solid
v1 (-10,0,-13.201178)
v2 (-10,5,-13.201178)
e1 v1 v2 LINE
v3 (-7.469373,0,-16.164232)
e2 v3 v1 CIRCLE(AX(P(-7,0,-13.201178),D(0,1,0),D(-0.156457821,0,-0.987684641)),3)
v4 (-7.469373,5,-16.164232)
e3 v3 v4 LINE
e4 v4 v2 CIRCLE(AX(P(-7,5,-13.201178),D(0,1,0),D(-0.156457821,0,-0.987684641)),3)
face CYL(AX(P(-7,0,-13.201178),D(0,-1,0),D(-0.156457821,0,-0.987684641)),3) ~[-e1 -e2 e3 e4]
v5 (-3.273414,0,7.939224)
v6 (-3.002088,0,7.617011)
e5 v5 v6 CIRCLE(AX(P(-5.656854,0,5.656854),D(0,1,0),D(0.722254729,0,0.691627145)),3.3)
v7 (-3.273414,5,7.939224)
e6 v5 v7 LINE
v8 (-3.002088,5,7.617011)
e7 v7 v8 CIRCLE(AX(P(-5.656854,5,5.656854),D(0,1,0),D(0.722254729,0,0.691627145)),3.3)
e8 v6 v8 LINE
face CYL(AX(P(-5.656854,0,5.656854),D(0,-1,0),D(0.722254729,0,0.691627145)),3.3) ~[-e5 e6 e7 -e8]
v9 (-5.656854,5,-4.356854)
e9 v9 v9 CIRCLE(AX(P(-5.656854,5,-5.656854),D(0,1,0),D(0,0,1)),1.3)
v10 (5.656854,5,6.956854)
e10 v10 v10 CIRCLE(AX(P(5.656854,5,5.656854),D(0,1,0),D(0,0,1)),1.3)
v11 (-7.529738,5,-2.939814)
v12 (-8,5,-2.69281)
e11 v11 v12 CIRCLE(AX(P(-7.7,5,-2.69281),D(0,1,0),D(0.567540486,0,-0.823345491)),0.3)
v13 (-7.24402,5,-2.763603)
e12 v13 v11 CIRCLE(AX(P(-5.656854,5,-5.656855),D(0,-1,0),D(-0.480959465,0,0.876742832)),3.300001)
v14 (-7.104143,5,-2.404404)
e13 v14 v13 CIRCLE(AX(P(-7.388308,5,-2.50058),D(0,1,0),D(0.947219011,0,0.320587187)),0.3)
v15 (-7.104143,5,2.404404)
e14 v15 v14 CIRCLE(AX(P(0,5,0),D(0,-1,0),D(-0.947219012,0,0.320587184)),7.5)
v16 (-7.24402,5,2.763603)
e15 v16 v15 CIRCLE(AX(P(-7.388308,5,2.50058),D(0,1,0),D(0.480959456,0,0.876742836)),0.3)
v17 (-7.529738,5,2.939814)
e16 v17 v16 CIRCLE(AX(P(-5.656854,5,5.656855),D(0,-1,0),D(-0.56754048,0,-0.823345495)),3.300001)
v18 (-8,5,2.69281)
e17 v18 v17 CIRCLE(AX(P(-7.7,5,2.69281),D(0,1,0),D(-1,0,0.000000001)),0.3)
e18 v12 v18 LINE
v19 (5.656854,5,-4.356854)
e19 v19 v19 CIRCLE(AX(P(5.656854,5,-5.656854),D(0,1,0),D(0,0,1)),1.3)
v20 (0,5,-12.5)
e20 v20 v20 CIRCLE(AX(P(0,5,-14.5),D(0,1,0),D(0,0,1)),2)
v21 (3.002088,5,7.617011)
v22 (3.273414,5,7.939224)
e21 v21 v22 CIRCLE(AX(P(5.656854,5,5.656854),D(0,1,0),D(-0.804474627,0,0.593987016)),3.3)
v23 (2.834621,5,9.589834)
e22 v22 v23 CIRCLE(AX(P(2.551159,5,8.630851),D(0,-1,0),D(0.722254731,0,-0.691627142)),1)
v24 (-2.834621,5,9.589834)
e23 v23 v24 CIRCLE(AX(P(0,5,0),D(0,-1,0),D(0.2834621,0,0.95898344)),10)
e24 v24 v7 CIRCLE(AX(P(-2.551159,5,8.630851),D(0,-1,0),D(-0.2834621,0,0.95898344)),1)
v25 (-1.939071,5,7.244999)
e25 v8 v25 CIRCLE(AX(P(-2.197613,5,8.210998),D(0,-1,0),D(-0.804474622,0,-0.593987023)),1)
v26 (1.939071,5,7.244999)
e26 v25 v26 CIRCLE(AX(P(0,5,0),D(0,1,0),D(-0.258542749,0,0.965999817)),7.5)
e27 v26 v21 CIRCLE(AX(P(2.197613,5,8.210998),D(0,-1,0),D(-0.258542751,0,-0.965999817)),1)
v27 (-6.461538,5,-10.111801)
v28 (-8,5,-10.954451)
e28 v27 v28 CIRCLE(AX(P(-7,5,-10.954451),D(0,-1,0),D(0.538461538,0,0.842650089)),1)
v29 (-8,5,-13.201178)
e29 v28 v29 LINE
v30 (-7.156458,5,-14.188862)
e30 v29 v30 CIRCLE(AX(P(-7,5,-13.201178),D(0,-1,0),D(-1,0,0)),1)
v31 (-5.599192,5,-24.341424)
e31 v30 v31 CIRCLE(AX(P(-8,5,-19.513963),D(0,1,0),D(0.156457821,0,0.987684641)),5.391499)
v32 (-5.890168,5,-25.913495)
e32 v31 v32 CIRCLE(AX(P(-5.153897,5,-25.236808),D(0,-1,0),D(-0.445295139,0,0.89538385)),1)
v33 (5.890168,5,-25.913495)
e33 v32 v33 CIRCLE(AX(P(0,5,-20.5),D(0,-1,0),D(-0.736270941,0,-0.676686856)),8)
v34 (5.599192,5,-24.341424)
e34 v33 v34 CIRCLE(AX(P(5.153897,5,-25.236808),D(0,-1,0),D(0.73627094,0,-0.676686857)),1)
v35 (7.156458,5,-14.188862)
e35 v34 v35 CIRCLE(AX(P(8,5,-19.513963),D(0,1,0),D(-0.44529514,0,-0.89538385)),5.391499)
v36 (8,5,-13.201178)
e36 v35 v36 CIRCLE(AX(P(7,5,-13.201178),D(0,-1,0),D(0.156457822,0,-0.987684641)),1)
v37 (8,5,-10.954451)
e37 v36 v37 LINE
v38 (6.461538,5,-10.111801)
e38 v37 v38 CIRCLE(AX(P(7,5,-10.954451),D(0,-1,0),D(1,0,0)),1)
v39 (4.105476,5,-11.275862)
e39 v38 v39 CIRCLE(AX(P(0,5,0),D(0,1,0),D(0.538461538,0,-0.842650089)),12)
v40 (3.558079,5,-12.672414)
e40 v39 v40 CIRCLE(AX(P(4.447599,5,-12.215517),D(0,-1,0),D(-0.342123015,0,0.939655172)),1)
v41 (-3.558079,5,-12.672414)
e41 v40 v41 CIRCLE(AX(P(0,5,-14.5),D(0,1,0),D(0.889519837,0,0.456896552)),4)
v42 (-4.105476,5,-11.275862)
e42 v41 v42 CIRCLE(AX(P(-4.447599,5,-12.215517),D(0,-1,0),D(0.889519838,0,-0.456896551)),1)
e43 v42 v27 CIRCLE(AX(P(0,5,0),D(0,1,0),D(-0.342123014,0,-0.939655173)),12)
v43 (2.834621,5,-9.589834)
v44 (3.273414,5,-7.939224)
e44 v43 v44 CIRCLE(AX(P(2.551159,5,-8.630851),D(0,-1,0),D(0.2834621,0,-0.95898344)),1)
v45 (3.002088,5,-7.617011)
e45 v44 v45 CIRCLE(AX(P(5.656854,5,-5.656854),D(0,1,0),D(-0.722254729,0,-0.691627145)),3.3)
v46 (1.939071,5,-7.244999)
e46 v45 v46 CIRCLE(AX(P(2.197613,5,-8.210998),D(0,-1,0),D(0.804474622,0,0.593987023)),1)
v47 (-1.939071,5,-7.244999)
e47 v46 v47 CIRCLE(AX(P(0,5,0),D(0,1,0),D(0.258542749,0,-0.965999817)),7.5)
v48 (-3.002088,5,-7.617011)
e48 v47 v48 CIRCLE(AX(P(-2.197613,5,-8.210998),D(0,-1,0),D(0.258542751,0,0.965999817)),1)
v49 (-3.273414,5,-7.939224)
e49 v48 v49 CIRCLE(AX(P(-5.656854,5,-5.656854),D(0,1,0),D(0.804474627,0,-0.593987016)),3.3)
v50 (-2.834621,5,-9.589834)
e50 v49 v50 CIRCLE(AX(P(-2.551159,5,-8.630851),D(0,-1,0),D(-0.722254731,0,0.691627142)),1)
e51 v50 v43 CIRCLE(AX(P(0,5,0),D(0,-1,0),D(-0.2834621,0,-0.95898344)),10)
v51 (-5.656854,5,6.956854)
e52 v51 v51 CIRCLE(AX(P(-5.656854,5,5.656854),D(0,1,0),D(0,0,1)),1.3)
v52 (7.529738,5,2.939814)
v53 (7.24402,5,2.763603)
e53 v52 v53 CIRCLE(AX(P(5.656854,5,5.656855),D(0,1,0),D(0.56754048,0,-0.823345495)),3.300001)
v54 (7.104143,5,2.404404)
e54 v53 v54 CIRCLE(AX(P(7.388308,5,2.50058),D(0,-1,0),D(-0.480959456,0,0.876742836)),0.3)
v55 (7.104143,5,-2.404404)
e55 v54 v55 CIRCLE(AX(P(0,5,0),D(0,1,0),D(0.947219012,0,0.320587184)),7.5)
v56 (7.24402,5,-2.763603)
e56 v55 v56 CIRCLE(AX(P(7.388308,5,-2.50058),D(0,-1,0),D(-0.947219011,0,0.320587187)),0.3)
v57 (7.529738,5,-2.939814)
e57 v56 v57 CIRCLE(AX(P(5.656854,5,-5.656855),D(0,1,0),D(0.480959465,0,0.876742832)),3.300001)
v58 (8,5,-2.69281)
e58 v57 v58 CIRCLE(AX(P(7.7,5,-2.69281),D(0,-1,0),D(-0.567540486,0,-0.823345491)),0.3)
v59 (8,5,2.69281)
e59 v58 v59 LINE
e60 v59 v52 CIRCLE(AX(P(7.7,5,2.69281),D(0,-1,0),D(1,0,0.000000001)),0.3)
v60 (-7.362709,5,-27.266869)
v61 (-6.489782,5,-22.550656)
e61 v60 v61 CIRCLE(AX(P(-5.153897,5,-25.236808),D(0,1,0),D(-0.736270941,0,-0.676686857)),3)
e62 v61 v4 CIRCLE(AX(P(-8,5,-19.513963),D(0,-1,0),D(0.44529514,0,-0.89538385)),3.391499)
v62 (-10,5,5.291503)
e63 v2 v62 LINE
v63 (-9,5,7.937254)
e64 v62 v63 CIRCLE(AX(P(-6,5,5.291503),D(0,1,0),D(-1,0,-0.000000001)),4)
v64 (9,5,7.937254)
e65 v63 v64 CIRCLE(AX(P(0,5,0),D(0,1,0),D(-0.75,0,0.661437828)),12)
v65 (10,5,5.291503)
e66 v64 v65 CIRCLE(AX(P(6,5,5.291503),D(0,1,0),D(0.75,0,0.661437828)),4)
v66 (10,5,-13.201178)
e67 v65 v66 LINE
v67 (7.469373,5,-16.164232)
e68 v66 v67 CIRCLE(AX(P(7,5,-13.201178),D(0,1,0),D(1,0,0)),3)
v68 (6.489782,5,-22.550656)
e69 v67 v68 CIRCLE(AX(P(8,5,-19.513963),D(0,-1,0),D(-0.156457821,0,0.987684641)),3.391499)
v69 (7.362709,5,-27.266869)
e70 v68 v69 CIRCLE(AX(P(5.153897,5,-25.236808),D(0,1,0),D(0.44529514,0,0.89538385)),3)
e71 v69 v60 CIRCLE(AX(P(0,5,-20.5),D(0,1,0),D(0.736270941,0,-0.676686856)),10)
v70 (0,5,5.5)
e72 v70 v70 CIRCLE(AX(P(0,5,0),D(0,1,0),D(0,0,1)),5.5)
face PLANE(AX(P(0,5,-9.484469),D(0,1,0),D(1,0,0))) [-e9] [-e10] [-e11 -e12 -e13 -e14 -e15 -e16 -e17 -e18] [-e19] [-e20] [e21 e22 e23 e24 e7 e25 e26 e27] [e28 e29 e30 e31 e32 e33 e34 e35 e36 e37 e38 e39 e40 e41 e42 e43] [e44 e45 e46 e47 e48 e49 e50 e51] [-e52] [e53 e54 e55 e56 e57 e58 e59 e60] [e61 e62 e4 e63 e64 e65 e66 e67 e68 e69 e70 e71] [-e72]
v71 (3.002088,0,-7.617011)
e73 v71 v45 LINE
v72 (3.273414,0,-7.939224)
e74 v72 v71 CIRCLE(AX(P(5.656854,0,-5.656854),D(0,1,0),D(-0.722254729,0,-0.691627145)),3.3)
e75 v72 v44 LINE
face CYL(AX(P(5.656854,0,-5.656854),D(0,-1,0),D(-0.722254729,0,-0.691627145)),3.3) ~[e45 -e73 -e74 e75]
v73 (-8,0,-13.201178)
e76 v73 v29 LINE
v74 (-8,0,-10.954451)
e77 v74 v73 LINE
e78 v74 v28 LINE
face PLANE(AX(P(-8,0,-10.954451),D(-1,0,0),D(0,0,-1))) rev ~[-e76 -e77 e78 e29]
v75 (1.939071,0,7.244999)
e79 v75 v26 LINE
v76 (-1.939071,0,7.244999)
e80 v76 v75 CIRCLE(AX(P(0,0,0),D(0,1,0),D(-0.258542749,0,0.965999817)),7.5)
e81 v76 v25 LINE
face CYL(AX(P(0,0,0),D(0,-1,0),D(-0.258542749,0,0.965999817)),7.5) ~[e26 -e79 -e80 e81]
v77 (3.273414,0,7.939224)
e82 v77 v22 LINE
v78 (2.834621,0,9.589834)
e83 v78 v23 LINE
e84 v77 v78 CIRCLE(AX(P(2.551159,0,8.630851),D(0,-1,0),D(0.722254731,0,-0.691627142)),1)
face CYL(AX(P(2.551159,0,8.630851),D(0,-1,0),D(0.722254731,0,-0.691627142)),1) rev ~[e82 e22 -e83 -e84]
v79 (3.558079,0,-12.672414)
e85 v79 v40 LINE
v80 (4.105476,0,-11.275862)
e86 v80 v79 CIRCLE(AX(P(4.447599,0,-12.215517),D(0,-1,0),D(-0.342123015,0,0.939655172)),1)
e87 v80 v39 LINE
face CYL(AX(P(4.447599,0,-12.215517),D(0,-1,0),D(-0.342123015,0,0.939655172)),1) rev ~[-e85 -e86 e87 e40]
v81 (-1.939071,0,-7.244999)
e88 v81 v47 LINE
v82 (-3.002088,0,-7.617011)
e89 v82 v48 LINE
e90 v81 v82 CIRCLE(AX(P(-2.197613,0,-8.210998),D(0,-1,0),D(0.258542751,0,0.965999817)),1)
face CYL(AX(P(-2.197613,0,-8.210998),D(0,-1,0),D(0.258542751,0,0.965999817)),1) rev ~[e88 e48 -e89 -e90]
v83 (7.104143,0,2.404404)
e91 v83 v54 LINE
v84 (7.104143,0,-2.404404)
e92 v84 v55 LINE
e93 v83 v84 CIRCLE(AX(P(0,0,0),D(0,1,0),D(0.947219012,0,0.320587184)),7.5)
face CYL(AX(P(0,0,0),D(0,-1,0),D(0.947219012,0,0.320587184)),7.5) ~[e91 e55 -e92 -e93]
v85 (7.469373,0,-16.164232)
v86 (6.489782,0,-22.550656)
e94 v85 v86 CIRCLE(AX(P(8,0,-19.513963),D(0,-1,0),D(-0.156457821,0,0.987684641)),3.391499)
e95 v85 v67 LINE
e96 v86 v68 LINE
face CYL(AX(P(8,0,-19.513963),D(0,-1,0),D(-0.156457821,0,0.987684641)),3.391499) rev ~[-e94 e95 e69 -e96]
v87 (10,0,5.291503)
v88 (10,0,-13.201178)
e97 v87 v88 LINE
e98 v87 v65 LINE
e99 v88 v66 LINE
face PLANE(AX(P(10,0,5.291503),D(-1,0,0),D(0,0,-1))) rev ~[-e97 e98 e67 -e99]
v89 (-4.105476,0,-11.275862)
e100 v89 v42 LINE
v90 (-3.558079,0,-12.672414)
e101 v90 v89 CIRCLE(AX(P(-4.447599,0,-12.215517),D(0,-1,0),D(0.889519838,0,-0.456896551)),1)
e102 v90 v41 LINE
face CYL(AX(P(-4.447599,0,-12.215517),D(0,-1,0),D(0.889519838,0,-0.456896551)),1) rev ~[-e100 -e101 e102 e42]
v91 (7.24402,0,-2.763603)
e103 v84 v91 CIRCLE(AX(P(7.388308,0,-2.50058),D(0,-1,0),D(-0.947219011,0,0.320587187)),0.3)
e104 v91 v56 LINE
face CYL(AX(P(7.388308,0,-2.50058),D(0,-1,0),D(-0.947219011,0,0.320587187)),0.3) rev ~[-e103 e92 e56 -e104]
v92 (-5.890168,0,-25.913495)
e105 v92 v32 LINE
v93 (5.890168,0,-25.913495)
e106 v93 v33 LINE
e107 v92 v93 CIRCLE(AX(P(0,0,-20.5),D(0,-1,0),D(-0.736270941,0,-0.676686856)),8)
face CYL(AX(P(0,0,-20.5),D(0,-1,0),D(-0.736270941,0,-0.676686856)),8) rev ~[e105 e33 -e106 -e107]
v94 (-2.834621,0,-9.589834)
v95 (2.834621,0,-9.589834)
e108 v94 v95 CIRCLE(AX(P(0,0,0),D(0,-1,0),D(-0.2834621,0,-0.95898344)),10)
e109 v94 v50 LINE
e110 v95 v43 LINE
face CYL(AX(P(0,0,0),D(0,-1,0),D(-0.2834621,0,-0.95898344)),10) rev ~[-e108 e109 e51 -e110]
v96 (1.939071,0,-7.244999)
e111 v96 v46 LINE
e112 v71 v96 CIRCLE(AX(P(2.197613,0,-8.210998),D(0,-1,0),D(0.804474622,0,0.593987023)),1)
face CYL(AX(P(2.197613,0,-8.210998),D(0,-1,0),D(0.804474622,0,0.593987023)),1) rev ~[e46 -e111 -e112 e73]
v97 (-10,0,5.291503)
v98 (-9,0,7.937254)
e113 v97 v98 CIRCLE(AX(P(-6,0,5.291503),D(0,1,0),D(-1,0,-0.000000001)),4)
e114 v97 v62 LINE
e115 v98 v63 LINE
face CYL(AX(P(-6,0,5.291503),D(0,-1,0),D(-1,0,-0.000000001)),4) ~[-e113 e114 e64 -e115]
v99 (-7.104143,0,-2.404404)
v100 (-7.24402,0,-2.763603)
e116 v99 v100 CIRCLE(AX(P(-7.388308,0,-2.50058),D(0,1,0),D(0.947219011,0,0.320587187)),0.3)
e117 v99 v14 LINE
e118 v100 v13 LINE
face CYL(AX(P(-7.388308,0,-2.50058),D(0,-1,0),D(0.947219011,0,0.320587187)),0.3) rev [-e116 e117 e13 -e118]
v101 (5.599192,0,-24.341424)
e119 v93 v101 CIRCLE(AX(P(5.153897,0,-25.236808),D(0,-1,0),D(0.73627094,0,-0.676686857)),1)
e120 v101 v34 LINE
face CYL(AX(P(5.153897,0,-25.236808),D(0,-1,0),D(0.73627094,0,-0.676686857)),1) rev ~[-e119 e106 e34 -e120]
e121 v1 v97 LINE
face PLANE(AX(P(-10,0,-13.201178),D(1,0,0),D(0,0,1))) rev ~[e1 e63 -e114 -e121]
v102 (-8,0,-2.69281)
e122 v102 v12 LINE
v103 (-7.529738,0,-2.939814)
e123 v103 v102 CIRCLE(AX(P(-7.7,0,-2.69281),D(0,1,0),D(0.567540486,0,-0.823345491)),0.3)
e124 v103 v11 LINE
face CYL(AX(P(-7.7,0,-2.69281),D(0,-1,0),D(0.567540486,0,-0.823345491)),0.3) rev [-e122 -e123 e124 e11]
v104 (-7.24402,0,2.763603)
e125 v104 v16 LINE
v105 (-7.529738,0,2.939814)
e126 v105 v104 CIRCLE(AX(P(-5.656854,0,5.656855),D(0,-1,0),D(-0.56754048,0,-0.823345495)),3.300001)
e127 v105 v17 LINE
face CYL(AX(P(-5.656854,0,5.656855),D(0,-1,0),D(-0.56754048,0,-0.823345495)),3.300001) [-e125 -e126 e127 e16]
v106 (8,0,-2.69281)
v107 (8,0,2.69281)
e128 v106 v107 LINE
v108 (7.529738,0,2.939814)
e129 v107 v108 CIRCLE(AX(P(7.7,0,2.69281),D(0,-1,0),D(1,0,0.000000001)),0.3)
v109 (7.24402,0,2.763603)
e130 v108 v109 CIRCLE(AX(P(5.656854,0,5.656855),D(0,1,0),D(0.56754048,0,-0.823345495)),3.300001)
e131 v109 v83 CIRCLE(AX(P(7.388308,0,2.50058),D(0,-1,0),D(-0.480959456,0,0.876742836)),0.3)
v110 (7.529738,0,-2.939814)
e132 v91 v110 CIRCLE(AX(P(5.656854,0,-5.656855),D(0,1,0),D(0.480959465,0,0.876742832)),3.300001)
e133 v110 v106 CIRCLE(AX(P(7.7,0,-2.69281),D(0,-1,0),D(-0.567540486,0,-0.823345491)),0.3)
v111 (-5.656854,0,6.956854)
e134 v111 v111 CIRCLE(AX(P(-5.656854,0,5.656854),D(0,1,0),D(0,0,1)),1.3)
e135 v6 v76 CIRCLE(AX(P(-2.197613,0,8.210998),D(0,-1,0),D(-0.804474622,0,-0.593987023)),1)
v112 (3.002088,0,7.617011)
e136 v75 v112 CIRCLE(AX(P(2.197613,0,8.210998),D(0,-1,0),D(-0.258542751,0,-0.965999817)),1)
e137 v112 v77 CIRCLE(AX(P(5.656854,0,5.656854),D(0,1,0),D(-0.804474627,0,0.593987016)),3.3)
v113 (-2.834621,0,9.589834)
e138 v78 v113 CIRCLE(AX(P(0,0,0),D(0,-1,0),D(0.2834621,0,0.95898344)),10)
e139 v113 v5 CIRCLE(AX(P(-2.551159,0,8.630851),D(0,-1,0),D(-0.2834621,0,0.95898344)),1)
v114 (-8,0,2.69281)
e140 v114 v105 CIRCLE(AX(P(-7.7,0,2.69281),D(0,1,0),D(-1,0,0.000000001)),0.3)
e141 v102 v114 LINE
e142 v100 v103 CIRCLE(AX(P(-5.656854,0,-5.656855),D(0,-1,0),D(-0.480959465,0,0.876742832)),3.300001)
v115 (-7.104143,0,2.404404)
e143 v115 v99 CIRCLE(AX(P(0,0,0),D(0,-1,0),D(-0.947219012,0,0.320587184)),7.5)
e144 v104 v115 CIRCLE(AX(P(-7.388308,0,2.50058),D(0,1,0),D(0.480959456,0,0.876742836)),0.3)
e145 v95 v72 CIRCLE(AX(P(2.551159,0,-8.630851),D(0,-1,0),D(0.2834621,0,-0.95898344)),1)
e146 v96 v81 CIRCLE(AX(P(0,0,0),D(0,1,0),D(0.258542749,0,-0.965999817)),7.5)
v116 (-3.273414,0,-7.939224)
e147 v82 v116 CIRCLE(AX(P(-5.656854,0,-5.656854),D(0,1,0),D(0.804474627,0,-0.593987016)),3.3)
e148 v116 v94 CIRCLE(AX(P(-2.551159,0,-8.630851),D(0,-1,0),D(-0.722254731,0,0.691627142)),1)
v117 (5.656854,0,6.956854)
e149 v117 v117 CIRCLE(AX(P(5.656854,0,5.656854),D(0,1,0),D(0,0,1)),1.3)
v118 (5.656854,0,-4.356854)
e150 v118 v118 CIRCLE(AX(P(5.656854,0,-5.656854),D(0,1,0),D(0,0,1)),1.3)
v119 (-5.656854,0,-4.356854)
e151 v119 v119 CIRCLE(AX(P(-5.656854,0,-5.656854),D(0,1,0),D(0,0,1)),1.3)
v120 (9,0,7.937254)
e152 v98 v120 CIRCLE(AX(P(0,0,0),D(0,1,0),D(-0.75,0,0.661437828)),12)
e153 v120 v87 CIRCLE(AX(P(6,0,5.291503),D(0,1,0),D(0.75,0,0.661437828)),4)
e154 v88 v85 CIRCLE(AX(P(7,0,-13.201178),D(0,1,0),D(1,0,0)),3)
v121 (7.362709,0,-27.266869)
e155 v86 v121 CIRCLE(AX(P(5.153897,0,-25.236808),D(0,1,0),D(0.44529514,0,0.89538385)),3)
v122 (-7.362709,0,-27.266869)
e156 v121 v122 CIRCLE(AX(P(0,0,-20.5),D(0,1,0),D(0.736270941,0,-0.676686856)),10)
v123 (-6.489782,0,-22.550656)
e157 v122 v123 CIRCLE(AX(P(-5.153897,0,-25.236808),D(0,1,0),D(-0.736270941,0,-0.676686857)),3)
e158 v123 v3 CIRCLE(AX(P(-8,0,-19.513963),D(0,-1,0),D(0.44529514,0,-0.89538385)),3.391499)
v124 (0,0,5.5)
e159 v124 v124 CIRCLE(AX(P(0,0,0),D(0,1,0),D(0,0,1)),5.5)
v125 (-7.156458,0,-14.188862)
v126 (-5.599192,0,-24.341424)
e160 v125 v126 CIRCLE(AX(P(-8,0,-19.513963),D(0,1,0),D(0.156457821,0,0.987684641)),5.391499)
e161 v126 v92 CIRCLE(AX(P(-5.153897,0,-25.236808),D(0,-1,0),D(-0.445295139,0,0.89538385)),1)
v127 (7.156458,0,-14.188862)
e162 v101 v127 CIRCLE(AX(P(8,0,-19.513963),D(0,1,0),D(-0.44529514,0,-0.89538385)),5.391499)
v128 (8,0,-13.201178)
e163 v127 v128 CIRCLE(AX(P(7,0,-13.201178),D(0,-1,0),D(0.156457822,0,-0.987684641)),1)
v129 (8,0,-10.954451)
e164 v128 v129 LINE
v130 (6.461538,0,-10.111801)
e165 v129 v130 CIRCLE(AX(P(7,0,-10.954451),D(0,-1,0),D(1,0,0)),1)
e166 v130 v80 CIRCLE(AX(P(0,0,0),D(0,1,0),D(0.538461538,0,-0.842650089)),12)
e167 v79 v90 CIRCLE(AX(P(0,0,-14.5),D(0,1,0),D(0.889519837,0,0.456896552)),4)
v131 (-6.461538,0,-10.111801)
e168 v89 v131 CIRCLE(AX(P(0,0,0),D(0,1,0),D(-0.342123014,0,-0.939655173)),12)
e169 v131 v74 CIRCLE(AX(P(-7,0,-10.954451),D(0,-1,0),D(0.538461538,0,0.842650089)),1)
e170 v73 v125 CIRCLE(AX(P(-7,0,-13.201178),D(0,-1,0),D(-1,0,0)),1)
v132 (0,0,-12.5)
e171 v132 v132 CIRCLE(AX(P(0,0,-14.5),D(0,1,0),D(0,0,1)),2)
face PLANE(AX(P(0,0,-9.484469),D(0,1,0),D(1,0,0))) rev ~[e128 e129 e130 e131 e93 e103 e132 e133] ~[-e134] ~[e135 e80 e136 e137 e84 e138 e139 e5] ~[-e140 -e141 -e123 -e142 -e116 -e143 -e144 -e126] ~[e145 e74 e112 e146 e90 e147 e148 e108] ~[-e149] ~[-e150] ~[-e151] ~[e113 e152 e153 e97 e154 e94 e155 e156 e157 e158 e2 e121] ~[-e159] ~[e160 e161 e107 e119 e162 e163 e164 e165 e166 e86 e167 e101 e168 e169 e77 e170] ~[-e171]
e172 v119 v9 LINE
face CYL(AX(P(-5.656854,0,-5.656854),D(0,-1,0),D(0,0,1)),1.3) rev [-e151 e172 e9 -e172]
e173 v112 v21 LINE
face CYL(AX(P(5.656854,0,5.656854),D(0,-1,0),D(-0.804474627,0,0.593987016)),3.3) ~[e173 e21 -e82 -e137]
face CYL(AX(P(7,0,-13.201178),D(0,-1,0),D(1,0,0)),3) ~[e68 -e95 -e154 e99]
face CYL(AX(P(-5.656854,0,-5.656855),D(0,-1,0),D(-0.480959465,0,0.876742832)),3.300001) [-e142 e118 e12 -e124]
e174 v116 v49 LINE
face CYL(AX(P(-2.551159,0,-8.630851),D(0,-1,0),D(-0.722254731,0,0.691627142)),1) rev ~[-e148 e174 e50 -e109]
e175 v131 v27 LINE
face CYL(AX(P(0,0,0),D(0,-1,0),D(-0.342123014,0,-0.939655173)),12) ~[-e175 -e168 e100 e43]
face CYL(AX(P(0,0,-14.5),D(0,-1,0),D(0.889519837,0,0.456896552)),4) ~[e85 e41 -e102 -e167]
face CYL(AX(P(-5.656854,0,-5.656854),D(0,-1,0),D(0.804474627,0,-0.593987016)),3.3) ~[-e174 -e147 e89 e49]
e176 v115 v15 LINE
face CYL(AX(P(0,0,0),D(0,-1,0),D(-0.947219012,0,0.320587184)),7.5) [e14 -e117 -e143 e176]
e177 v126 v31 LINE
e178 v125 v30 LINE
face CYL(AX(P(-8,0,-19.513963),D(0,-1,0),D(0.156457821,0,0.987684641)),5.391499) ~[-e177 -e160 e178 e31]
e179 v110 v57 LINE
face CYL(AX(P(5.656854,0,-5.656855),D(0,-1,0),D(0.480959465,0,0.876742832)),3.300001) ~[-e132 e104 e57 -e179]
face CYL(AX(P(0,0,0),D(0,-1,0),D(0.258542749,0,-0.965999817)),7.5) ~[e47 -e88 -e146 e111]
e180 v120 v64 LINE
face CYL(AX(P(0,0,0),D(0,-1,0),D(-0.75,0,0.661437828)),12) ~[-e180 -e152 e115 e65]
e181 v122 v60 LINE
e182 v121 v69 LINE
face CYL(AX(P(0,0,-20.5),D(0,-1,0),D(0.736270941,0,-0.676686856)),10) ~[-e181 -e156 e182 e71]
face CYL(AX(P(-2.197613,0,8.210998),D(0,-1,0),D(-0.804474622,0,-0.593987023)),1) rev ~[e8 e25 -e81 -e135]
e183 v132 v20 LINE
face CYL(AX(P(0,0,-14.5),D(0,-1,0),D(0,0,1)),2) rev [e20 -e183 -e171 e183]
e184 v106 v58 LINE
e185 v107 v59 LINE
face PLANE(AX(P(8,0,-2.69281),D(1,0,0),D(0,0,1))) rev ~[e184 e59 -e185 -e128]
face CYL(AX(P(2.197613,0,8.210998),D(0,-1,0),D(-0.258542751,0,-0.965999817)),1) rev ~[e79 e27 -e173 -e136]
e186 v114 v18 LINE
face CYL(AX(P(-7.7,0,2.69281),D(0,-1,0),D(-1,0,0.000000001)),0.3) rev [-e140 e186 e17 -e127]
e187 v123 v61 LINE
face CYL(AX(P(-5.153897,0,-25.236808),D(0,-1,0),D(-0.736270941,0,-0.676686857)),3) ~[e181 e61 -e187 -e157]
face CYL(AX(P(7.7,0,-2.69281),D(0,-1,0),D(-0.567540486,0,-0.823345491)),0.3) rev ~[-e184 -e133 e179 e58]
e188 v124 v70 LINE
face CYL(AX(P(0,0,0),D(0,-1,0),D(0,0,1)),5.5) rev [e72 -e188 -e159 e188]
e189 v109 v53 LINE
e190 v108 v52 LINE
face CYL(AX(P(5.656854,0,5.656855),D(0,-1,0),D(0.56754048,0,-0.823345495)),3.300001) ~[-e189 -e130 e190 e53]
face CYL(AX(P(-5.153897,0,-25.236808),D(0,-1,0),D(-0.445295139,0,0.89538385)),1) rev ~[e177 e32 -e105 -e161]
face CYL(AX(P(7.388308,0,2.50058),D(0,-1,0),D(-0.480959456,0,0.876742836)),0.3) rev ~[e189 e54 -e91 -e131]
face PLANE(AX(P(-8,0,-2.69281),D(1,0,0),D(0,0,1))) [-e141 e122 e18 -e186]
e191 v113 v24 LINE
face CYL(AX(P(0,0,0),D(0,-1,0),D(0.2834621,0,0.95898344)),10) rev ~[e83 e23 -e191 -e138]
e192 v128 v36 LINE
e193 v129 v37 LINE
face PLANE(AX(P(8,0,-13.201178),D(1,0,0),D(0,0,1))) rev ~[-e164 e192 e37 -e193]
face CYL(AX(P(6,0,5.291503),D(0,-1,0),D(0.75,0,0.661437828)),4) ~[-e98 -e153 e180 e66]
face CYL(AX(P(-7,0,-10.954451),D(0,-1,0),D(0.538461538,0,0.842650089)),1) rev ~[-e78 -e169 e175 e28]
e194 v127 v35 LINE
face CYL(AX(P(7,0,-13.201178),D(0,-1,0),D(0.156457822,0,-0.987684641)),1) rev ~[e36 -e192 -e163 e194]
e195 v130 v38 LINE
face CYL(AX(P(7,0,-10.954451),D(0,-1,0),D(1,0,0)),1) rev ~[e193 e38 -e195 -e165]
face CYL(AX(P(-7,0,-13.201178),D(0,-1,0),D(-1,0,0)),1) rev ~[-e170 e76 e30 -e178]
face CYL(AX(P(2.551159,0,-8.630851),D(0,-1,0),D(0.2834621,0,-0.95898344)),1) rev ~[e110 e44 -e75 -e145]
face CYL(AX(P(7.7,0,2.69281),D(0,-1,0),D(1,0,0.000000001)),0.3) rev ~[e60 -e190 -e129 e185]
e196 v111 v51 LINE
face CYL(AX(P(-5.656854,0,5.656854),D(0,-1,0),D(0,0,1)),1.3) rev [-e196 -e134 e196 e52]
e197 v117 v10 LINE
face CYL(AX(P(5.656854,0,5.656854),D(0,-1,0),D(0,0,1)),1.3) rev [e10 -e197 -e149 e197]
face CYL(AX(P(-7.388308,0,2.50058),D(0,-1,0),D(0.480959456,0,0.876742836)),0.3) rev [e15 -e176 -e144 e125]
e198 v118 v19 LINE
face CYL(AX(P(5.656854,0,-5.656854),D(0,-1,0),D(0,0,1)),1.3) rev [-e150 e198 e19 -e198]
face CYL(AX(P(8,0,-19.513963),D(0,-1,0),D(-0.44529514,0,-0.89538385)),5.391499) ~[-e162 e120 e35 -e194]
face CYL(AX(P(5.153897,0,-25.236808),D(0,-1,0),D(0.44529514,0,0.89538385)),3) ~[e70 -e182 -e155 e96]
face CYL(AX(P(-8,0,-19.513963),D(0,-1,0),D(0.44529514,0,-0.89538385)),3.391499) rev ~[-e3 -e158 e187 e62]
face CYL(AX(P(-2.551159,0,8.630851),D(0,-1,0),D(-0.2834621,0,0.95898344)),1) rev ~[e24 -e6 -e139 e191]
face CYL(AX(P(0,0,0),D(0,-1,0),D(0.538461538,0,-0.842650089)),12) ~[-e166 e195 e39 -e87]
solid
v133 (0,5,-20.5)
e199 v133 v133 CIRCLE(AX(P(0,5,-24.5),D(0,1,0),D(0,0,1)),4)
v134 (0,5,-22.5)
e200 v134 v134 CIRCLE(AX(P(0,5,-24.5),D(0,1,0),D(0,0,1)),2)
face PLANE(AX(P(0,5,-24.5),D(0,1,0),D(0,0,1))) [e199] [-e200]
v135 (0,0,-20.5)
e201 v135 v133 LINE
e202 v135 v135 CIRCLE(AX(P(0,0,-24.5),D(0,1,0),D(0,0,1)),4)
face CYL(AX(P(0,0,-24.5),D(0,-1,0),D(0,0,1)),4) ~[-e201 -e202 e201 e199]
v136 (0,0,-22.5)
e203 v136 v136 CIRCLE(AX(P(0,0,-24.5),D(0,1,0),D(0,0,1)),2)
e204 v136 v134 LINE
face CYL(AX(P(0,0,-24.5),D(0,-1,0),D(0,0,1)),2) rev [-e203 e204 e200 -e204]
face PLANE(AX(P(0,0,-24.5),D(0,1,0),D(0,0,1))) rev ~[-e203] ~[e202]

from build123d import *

# Parameters (mm, degrees)
SKETCH1_R             = 4
SKETCH1_R_2           = 2
BOSS_EXTRUDE1_DEPTH   = 5
SKETCH1_R_3           = 5.5
SKETCH1_R_4           = 1.3
BOSS_EXTRUDE1_2_DEPTH = 5


with BuildPart() as part:
    # Sketch1 → Boss-Extrude1 (new body)
    with BuildSketch(Plane(origin=(0, 0, 0), x_dir=(1, 0, 0), z_dir=(0, 1, 0))):
        with Locations(Location((0, 24.5, 0), (0, 0, 270))):
            Circle(SKETCH1_R)
        with Locations(Location((0, 24.5, 0), (0, 0, 270))):
            Circle(SKETCH1_R_2, mode=Mode.SUBTRACT)
    extrude(amount=BOSS_EXTRUDE1_DEPTH)


with BuildPart() as body_2:
    # Sketch1 → Boss-Extrude1 2 (new body)
    with BuildSketch(Plane(origin=(0, 0, 0), x_dir=(1, 0, 0), z_dir=(0, 1, 0))):
        with BuildLine():
            Line((-10, 13.201177736), (-10, -5.291502622))
            ThreePointArc((-10, -5.291502622), (-9.741657387, -6.705716185), (-9, -7.937253933))
            ThreePointArc((-9, -7.937253933), (0, -12), (9, -7.937253933))
            ThreePointArc((9, -7.937253933), (9.741657387, -6.705716185), (10, -5.291502622))
            Line((10, -5.291502622), (10, 13.201177736))
            ThreePointArc((10, 13.201177736), (9.281240934, 15.149494908), (7.469373465, 16.164231659))
            ThreePointArc((7.469373465, 16.164231659), (4.647707204, 18.999766552), (6.489782006, 22.550656446))
            ThreePointArc((6.489782006, 22.550656446), (8.103792448, 24.690809454), (7.362709409, 27.266868564))
            ThreePointArc((7.362709409, 27.266868564), (0, 30.5), (-7.362709409, 27.266868564))
            ThreePointArc((-7.362709409, 27.266868564), (-8.103792448, 24.690809454), (-6.489782006, 22.550656446))
            ThreePointArc((-6.489782006, 22.550656446), (-4.647707204, 18.999766552), (-7.469373465, 16.164231659))
            ThreePointArc((-7.469373465, 16.164231659), (-9.281240934, 15.149494908), (-10, 13.201177736))
        make_face()
        with Locations(Location((0, 0, 0), (0, 0, 270))):
            Circle(SKETCH1_R_3, mode=Mode.SUBTRACT)
        with Locations(Location((0, 14.5, 0), (0, 0, 270))):
            Circle(SKETCH1_R_2, mode=Mode.SUBTRACT)
        with Locations(Location((5.656854249, -5.656854249, 0), (0, 0, 270))):
            Circle(SKETCH1_R_4, mode=Mode.SUBTRACT)
        with Locations(Location((-5.656854249, -5.656854249, 0), (0, 0, 270))):
            Circle(SKETCH1_R_4, mode=Mode.SUBTRACT)
        with Locations(Location((-5.656854249, 5.656854249, 0), (0, 0, 270))):
            Circle(SKETCH1_R_4, mode=Mode.SUBTRACT)
        with Locations(Location((5.656854249, 5.656854249, 0), (0, 0, 270))):
            Circle(SKETCH1_R_4, mode=Mode.SUBTRACT)
        with BuildLine():
            Line((8, 13.201177736), (8, 10.95445115))
            ThreePointArc((8, 10.95445115), (7.480384461, 10.077393131), (6.461538462, 10.111801062))
            ThreePointArc((6.461538462, 10.111801062), (5.315468848, 10.758521782), (4.105476172, 11.275862069))
            ThreePointArc((4.105476172, 11.275862069), (3.516564704, 11.850586026), (3.558079349, 12.672413793))
            ThreePointArc((3.558079349, 12.672413793), (0, 18.5), (-3.558079349, 12.672413793))
            ThreePointArc((-3.558079349, 12.672413793), (-3.516564704, 11.850586026), (-4.105476172, 11.275862069))
            ThreePointArc((-4.105476172, 11.275862069), (-5.315468848, 10.758521782), (-6.461538462, 10.111801062))
            ThreePointArc((-6.461538462, 10.111801062), (-7.480384461, 10.077393131), (-8, 10.95445115))
            Line((-8, 10.95445115), (-8, 13.201177736))
            ThreePointArc((-8, 13.201177736), (-7.760413645, 13.850616793), (-7.156457822, 14.188862377))
            ThreePointArc((-7.156457822, 14.188862377), (-2.670827449, 18.69653985), (-5.599191726, 24.341424145))
            ThreePointArc((-5.599191726, 24.341424145), (-6.137195207, 25.054808481), (-5.890167527, 25.913494851))
            ThreePointArc((-5.890167527, 25.913494851), (0, 28.5), (5.890167527, 25.913494851))
            ThreePointArc((5.890167527, 25.913494851), (6.137195207, 25.054808481), (5.599191726, 24.341424145))
            ThreePointArc((5.599191726, 24.341424145), (2.670827449, 18.69653985), (7.156457822, 14.188862377))
            ThreePointArc((7.156457822, 14.188862377), (7.760413645, 13.850616793), (8, 13.201177736))
        make_face(mode=Mode.SUBTRACT)
        with BuildLine():
            Line((-8, 2.692810484), (-8, -2.692810484))
            ThreePointArc((-8, -2.692810484), (-7.839501534, -2.958402882), (-7.529737854, -2.939814131))
            ThreePointArc((-7.529737854, -2.939814131), (-7.389121197, -2.848073158), (-7.244020458, -2.76360289))
            ThreePointArc((-7.244020458, -2.76360289), (-7.108756707, -2.609441922), (-7.104142592, -2.404403884))
            ThreePointArc((-7.104142592, -2.404403884), (-7.5, 0), (-7.104142592, 2.404403884))
            ThreePointArc((-7.104142592, 2.404403884), (-7.108756707, 2.609441922), (-7.244020458, 2.76360289))
            ThreePointArc((-7.244020458, 2.76360289), (-7.389121197, 2.848073158), (-7.529737854, 2.939814131))
            ThreePointArc((-7.529737854, 2.939814131), (-7.839501534, 2.958402882), (-8, 2.692810484))
        make_face(mode=Mode.SUBTRACT)
        with BuildLine():
            Line((8, 2.692810484), (8, -2.692810484))
            ThreePointArc((8, -2.692810484), (7.839501534, -2.958402882), (7.529737854, -2.939814131))
            ThreePointArc((7.529737854, -2.939814131), (7.389121197, -2.848073158), (7.244020458, -2.76360289))
            ThreePointArc((7.244020458, -2.76360289), (7.108756707, -2.609441922), (7.104142592, -2.404403884))
            ThreePointArc((7.104142592, -2.404403884), (7.5, 0), (7.104142592, 2.404403884))
            ThreePointArc((7.104142592, 2.404403884), (7.108756707, 2.609441922), (7.244020458, 2.76360289))
            ThreePointArc((7.244020458, 2.76360289), (7.389121197, 2.848073158), (7.529737854, 2.939814131))
            ThreePointArc((7.529737854, 2.939814131), (7.839501534, 2.958402882), (8, 2.692810484))
        make_face(mode=Mode.SUBTRACT)
        with BuildLine():
            ThreePointArc((1.939070625, -7.244998628), (2.52792956, -7.267128105), (3.002087997, -7.617011422))
            ThreePointArc((3.002087997, -7.617011422), (3.132604397, -7.782451268), (3.273413635, -7.939223816))
            ThreePointArc((3.273413635, -7.939223816), (3.517593283, -8.887764544), (2.834621004, -9.589834397))
            ThreePointArc((2.834621004, -9.589834397), (0, -10), (-2.834621004, -9.589834397))
            ThreePointArc((-2.834621004, -9.589834397), (-3.517593283, -8.887764544), (-3.273413635, -7.939223816))
            ThreePointArc((-3.273413635, -7.939223816), (-3.132604397, -7.782451268), (-3.002087997, -7.617011422))
            ThreePointArc((-3.002087997, -7.617011422), (-2.52792956, -7.267128105), (-1.939070625, -7.244998628))
            ThreePointArc((-1.939070625, -7.244998628), (0, -7.5), (1.939070625, -7.244998628))
        make_face(mode=Mode.SUBTRACT)
        with BuildLine():
            ThreePointArc((1.939070625, 7.244998628), (0, 7.5), (-1.939070625, 7.244998628))
            ThreePointArc((-1.939070625, 7.244998628), (-2.52792956, 7.267128105), (-3.002087997, 7.617011422))
            ThreePointArc((-3.002087997, 7.617011422), (-3.132604397, 7.782451268), (-3.273413635, 7.939223816))
            ThreePointArc((-3.273413635, 7.939223816), (-3.517593283, 8.887764544), (-2.834621004, 9.589834397))
            ThreePointArc((-2.834621004, 9.589834397), (0, 10), (2.834621004, 9.589834397))
            ThreePointArc((2.834621004, 9.589834397), (3.517593283, 8.887764544), (3.273413635, 7.939223816))
            ThreePointArc((3.273413635, 7.939223816), (3.132604397, 7.782451268), (3.002087997, 7.617011422))
            ThreePointArc((3.002087997, 7.617011422), (2.52792956, 7.267128105), (1.939070625, 7.244998628))
        make_face(mode=Mode.SUBTRACT)
    extrude(amount=BOSS_EXTRUDE1_2_DEPTH)


solid = Compound([part.part, body_2.part])
